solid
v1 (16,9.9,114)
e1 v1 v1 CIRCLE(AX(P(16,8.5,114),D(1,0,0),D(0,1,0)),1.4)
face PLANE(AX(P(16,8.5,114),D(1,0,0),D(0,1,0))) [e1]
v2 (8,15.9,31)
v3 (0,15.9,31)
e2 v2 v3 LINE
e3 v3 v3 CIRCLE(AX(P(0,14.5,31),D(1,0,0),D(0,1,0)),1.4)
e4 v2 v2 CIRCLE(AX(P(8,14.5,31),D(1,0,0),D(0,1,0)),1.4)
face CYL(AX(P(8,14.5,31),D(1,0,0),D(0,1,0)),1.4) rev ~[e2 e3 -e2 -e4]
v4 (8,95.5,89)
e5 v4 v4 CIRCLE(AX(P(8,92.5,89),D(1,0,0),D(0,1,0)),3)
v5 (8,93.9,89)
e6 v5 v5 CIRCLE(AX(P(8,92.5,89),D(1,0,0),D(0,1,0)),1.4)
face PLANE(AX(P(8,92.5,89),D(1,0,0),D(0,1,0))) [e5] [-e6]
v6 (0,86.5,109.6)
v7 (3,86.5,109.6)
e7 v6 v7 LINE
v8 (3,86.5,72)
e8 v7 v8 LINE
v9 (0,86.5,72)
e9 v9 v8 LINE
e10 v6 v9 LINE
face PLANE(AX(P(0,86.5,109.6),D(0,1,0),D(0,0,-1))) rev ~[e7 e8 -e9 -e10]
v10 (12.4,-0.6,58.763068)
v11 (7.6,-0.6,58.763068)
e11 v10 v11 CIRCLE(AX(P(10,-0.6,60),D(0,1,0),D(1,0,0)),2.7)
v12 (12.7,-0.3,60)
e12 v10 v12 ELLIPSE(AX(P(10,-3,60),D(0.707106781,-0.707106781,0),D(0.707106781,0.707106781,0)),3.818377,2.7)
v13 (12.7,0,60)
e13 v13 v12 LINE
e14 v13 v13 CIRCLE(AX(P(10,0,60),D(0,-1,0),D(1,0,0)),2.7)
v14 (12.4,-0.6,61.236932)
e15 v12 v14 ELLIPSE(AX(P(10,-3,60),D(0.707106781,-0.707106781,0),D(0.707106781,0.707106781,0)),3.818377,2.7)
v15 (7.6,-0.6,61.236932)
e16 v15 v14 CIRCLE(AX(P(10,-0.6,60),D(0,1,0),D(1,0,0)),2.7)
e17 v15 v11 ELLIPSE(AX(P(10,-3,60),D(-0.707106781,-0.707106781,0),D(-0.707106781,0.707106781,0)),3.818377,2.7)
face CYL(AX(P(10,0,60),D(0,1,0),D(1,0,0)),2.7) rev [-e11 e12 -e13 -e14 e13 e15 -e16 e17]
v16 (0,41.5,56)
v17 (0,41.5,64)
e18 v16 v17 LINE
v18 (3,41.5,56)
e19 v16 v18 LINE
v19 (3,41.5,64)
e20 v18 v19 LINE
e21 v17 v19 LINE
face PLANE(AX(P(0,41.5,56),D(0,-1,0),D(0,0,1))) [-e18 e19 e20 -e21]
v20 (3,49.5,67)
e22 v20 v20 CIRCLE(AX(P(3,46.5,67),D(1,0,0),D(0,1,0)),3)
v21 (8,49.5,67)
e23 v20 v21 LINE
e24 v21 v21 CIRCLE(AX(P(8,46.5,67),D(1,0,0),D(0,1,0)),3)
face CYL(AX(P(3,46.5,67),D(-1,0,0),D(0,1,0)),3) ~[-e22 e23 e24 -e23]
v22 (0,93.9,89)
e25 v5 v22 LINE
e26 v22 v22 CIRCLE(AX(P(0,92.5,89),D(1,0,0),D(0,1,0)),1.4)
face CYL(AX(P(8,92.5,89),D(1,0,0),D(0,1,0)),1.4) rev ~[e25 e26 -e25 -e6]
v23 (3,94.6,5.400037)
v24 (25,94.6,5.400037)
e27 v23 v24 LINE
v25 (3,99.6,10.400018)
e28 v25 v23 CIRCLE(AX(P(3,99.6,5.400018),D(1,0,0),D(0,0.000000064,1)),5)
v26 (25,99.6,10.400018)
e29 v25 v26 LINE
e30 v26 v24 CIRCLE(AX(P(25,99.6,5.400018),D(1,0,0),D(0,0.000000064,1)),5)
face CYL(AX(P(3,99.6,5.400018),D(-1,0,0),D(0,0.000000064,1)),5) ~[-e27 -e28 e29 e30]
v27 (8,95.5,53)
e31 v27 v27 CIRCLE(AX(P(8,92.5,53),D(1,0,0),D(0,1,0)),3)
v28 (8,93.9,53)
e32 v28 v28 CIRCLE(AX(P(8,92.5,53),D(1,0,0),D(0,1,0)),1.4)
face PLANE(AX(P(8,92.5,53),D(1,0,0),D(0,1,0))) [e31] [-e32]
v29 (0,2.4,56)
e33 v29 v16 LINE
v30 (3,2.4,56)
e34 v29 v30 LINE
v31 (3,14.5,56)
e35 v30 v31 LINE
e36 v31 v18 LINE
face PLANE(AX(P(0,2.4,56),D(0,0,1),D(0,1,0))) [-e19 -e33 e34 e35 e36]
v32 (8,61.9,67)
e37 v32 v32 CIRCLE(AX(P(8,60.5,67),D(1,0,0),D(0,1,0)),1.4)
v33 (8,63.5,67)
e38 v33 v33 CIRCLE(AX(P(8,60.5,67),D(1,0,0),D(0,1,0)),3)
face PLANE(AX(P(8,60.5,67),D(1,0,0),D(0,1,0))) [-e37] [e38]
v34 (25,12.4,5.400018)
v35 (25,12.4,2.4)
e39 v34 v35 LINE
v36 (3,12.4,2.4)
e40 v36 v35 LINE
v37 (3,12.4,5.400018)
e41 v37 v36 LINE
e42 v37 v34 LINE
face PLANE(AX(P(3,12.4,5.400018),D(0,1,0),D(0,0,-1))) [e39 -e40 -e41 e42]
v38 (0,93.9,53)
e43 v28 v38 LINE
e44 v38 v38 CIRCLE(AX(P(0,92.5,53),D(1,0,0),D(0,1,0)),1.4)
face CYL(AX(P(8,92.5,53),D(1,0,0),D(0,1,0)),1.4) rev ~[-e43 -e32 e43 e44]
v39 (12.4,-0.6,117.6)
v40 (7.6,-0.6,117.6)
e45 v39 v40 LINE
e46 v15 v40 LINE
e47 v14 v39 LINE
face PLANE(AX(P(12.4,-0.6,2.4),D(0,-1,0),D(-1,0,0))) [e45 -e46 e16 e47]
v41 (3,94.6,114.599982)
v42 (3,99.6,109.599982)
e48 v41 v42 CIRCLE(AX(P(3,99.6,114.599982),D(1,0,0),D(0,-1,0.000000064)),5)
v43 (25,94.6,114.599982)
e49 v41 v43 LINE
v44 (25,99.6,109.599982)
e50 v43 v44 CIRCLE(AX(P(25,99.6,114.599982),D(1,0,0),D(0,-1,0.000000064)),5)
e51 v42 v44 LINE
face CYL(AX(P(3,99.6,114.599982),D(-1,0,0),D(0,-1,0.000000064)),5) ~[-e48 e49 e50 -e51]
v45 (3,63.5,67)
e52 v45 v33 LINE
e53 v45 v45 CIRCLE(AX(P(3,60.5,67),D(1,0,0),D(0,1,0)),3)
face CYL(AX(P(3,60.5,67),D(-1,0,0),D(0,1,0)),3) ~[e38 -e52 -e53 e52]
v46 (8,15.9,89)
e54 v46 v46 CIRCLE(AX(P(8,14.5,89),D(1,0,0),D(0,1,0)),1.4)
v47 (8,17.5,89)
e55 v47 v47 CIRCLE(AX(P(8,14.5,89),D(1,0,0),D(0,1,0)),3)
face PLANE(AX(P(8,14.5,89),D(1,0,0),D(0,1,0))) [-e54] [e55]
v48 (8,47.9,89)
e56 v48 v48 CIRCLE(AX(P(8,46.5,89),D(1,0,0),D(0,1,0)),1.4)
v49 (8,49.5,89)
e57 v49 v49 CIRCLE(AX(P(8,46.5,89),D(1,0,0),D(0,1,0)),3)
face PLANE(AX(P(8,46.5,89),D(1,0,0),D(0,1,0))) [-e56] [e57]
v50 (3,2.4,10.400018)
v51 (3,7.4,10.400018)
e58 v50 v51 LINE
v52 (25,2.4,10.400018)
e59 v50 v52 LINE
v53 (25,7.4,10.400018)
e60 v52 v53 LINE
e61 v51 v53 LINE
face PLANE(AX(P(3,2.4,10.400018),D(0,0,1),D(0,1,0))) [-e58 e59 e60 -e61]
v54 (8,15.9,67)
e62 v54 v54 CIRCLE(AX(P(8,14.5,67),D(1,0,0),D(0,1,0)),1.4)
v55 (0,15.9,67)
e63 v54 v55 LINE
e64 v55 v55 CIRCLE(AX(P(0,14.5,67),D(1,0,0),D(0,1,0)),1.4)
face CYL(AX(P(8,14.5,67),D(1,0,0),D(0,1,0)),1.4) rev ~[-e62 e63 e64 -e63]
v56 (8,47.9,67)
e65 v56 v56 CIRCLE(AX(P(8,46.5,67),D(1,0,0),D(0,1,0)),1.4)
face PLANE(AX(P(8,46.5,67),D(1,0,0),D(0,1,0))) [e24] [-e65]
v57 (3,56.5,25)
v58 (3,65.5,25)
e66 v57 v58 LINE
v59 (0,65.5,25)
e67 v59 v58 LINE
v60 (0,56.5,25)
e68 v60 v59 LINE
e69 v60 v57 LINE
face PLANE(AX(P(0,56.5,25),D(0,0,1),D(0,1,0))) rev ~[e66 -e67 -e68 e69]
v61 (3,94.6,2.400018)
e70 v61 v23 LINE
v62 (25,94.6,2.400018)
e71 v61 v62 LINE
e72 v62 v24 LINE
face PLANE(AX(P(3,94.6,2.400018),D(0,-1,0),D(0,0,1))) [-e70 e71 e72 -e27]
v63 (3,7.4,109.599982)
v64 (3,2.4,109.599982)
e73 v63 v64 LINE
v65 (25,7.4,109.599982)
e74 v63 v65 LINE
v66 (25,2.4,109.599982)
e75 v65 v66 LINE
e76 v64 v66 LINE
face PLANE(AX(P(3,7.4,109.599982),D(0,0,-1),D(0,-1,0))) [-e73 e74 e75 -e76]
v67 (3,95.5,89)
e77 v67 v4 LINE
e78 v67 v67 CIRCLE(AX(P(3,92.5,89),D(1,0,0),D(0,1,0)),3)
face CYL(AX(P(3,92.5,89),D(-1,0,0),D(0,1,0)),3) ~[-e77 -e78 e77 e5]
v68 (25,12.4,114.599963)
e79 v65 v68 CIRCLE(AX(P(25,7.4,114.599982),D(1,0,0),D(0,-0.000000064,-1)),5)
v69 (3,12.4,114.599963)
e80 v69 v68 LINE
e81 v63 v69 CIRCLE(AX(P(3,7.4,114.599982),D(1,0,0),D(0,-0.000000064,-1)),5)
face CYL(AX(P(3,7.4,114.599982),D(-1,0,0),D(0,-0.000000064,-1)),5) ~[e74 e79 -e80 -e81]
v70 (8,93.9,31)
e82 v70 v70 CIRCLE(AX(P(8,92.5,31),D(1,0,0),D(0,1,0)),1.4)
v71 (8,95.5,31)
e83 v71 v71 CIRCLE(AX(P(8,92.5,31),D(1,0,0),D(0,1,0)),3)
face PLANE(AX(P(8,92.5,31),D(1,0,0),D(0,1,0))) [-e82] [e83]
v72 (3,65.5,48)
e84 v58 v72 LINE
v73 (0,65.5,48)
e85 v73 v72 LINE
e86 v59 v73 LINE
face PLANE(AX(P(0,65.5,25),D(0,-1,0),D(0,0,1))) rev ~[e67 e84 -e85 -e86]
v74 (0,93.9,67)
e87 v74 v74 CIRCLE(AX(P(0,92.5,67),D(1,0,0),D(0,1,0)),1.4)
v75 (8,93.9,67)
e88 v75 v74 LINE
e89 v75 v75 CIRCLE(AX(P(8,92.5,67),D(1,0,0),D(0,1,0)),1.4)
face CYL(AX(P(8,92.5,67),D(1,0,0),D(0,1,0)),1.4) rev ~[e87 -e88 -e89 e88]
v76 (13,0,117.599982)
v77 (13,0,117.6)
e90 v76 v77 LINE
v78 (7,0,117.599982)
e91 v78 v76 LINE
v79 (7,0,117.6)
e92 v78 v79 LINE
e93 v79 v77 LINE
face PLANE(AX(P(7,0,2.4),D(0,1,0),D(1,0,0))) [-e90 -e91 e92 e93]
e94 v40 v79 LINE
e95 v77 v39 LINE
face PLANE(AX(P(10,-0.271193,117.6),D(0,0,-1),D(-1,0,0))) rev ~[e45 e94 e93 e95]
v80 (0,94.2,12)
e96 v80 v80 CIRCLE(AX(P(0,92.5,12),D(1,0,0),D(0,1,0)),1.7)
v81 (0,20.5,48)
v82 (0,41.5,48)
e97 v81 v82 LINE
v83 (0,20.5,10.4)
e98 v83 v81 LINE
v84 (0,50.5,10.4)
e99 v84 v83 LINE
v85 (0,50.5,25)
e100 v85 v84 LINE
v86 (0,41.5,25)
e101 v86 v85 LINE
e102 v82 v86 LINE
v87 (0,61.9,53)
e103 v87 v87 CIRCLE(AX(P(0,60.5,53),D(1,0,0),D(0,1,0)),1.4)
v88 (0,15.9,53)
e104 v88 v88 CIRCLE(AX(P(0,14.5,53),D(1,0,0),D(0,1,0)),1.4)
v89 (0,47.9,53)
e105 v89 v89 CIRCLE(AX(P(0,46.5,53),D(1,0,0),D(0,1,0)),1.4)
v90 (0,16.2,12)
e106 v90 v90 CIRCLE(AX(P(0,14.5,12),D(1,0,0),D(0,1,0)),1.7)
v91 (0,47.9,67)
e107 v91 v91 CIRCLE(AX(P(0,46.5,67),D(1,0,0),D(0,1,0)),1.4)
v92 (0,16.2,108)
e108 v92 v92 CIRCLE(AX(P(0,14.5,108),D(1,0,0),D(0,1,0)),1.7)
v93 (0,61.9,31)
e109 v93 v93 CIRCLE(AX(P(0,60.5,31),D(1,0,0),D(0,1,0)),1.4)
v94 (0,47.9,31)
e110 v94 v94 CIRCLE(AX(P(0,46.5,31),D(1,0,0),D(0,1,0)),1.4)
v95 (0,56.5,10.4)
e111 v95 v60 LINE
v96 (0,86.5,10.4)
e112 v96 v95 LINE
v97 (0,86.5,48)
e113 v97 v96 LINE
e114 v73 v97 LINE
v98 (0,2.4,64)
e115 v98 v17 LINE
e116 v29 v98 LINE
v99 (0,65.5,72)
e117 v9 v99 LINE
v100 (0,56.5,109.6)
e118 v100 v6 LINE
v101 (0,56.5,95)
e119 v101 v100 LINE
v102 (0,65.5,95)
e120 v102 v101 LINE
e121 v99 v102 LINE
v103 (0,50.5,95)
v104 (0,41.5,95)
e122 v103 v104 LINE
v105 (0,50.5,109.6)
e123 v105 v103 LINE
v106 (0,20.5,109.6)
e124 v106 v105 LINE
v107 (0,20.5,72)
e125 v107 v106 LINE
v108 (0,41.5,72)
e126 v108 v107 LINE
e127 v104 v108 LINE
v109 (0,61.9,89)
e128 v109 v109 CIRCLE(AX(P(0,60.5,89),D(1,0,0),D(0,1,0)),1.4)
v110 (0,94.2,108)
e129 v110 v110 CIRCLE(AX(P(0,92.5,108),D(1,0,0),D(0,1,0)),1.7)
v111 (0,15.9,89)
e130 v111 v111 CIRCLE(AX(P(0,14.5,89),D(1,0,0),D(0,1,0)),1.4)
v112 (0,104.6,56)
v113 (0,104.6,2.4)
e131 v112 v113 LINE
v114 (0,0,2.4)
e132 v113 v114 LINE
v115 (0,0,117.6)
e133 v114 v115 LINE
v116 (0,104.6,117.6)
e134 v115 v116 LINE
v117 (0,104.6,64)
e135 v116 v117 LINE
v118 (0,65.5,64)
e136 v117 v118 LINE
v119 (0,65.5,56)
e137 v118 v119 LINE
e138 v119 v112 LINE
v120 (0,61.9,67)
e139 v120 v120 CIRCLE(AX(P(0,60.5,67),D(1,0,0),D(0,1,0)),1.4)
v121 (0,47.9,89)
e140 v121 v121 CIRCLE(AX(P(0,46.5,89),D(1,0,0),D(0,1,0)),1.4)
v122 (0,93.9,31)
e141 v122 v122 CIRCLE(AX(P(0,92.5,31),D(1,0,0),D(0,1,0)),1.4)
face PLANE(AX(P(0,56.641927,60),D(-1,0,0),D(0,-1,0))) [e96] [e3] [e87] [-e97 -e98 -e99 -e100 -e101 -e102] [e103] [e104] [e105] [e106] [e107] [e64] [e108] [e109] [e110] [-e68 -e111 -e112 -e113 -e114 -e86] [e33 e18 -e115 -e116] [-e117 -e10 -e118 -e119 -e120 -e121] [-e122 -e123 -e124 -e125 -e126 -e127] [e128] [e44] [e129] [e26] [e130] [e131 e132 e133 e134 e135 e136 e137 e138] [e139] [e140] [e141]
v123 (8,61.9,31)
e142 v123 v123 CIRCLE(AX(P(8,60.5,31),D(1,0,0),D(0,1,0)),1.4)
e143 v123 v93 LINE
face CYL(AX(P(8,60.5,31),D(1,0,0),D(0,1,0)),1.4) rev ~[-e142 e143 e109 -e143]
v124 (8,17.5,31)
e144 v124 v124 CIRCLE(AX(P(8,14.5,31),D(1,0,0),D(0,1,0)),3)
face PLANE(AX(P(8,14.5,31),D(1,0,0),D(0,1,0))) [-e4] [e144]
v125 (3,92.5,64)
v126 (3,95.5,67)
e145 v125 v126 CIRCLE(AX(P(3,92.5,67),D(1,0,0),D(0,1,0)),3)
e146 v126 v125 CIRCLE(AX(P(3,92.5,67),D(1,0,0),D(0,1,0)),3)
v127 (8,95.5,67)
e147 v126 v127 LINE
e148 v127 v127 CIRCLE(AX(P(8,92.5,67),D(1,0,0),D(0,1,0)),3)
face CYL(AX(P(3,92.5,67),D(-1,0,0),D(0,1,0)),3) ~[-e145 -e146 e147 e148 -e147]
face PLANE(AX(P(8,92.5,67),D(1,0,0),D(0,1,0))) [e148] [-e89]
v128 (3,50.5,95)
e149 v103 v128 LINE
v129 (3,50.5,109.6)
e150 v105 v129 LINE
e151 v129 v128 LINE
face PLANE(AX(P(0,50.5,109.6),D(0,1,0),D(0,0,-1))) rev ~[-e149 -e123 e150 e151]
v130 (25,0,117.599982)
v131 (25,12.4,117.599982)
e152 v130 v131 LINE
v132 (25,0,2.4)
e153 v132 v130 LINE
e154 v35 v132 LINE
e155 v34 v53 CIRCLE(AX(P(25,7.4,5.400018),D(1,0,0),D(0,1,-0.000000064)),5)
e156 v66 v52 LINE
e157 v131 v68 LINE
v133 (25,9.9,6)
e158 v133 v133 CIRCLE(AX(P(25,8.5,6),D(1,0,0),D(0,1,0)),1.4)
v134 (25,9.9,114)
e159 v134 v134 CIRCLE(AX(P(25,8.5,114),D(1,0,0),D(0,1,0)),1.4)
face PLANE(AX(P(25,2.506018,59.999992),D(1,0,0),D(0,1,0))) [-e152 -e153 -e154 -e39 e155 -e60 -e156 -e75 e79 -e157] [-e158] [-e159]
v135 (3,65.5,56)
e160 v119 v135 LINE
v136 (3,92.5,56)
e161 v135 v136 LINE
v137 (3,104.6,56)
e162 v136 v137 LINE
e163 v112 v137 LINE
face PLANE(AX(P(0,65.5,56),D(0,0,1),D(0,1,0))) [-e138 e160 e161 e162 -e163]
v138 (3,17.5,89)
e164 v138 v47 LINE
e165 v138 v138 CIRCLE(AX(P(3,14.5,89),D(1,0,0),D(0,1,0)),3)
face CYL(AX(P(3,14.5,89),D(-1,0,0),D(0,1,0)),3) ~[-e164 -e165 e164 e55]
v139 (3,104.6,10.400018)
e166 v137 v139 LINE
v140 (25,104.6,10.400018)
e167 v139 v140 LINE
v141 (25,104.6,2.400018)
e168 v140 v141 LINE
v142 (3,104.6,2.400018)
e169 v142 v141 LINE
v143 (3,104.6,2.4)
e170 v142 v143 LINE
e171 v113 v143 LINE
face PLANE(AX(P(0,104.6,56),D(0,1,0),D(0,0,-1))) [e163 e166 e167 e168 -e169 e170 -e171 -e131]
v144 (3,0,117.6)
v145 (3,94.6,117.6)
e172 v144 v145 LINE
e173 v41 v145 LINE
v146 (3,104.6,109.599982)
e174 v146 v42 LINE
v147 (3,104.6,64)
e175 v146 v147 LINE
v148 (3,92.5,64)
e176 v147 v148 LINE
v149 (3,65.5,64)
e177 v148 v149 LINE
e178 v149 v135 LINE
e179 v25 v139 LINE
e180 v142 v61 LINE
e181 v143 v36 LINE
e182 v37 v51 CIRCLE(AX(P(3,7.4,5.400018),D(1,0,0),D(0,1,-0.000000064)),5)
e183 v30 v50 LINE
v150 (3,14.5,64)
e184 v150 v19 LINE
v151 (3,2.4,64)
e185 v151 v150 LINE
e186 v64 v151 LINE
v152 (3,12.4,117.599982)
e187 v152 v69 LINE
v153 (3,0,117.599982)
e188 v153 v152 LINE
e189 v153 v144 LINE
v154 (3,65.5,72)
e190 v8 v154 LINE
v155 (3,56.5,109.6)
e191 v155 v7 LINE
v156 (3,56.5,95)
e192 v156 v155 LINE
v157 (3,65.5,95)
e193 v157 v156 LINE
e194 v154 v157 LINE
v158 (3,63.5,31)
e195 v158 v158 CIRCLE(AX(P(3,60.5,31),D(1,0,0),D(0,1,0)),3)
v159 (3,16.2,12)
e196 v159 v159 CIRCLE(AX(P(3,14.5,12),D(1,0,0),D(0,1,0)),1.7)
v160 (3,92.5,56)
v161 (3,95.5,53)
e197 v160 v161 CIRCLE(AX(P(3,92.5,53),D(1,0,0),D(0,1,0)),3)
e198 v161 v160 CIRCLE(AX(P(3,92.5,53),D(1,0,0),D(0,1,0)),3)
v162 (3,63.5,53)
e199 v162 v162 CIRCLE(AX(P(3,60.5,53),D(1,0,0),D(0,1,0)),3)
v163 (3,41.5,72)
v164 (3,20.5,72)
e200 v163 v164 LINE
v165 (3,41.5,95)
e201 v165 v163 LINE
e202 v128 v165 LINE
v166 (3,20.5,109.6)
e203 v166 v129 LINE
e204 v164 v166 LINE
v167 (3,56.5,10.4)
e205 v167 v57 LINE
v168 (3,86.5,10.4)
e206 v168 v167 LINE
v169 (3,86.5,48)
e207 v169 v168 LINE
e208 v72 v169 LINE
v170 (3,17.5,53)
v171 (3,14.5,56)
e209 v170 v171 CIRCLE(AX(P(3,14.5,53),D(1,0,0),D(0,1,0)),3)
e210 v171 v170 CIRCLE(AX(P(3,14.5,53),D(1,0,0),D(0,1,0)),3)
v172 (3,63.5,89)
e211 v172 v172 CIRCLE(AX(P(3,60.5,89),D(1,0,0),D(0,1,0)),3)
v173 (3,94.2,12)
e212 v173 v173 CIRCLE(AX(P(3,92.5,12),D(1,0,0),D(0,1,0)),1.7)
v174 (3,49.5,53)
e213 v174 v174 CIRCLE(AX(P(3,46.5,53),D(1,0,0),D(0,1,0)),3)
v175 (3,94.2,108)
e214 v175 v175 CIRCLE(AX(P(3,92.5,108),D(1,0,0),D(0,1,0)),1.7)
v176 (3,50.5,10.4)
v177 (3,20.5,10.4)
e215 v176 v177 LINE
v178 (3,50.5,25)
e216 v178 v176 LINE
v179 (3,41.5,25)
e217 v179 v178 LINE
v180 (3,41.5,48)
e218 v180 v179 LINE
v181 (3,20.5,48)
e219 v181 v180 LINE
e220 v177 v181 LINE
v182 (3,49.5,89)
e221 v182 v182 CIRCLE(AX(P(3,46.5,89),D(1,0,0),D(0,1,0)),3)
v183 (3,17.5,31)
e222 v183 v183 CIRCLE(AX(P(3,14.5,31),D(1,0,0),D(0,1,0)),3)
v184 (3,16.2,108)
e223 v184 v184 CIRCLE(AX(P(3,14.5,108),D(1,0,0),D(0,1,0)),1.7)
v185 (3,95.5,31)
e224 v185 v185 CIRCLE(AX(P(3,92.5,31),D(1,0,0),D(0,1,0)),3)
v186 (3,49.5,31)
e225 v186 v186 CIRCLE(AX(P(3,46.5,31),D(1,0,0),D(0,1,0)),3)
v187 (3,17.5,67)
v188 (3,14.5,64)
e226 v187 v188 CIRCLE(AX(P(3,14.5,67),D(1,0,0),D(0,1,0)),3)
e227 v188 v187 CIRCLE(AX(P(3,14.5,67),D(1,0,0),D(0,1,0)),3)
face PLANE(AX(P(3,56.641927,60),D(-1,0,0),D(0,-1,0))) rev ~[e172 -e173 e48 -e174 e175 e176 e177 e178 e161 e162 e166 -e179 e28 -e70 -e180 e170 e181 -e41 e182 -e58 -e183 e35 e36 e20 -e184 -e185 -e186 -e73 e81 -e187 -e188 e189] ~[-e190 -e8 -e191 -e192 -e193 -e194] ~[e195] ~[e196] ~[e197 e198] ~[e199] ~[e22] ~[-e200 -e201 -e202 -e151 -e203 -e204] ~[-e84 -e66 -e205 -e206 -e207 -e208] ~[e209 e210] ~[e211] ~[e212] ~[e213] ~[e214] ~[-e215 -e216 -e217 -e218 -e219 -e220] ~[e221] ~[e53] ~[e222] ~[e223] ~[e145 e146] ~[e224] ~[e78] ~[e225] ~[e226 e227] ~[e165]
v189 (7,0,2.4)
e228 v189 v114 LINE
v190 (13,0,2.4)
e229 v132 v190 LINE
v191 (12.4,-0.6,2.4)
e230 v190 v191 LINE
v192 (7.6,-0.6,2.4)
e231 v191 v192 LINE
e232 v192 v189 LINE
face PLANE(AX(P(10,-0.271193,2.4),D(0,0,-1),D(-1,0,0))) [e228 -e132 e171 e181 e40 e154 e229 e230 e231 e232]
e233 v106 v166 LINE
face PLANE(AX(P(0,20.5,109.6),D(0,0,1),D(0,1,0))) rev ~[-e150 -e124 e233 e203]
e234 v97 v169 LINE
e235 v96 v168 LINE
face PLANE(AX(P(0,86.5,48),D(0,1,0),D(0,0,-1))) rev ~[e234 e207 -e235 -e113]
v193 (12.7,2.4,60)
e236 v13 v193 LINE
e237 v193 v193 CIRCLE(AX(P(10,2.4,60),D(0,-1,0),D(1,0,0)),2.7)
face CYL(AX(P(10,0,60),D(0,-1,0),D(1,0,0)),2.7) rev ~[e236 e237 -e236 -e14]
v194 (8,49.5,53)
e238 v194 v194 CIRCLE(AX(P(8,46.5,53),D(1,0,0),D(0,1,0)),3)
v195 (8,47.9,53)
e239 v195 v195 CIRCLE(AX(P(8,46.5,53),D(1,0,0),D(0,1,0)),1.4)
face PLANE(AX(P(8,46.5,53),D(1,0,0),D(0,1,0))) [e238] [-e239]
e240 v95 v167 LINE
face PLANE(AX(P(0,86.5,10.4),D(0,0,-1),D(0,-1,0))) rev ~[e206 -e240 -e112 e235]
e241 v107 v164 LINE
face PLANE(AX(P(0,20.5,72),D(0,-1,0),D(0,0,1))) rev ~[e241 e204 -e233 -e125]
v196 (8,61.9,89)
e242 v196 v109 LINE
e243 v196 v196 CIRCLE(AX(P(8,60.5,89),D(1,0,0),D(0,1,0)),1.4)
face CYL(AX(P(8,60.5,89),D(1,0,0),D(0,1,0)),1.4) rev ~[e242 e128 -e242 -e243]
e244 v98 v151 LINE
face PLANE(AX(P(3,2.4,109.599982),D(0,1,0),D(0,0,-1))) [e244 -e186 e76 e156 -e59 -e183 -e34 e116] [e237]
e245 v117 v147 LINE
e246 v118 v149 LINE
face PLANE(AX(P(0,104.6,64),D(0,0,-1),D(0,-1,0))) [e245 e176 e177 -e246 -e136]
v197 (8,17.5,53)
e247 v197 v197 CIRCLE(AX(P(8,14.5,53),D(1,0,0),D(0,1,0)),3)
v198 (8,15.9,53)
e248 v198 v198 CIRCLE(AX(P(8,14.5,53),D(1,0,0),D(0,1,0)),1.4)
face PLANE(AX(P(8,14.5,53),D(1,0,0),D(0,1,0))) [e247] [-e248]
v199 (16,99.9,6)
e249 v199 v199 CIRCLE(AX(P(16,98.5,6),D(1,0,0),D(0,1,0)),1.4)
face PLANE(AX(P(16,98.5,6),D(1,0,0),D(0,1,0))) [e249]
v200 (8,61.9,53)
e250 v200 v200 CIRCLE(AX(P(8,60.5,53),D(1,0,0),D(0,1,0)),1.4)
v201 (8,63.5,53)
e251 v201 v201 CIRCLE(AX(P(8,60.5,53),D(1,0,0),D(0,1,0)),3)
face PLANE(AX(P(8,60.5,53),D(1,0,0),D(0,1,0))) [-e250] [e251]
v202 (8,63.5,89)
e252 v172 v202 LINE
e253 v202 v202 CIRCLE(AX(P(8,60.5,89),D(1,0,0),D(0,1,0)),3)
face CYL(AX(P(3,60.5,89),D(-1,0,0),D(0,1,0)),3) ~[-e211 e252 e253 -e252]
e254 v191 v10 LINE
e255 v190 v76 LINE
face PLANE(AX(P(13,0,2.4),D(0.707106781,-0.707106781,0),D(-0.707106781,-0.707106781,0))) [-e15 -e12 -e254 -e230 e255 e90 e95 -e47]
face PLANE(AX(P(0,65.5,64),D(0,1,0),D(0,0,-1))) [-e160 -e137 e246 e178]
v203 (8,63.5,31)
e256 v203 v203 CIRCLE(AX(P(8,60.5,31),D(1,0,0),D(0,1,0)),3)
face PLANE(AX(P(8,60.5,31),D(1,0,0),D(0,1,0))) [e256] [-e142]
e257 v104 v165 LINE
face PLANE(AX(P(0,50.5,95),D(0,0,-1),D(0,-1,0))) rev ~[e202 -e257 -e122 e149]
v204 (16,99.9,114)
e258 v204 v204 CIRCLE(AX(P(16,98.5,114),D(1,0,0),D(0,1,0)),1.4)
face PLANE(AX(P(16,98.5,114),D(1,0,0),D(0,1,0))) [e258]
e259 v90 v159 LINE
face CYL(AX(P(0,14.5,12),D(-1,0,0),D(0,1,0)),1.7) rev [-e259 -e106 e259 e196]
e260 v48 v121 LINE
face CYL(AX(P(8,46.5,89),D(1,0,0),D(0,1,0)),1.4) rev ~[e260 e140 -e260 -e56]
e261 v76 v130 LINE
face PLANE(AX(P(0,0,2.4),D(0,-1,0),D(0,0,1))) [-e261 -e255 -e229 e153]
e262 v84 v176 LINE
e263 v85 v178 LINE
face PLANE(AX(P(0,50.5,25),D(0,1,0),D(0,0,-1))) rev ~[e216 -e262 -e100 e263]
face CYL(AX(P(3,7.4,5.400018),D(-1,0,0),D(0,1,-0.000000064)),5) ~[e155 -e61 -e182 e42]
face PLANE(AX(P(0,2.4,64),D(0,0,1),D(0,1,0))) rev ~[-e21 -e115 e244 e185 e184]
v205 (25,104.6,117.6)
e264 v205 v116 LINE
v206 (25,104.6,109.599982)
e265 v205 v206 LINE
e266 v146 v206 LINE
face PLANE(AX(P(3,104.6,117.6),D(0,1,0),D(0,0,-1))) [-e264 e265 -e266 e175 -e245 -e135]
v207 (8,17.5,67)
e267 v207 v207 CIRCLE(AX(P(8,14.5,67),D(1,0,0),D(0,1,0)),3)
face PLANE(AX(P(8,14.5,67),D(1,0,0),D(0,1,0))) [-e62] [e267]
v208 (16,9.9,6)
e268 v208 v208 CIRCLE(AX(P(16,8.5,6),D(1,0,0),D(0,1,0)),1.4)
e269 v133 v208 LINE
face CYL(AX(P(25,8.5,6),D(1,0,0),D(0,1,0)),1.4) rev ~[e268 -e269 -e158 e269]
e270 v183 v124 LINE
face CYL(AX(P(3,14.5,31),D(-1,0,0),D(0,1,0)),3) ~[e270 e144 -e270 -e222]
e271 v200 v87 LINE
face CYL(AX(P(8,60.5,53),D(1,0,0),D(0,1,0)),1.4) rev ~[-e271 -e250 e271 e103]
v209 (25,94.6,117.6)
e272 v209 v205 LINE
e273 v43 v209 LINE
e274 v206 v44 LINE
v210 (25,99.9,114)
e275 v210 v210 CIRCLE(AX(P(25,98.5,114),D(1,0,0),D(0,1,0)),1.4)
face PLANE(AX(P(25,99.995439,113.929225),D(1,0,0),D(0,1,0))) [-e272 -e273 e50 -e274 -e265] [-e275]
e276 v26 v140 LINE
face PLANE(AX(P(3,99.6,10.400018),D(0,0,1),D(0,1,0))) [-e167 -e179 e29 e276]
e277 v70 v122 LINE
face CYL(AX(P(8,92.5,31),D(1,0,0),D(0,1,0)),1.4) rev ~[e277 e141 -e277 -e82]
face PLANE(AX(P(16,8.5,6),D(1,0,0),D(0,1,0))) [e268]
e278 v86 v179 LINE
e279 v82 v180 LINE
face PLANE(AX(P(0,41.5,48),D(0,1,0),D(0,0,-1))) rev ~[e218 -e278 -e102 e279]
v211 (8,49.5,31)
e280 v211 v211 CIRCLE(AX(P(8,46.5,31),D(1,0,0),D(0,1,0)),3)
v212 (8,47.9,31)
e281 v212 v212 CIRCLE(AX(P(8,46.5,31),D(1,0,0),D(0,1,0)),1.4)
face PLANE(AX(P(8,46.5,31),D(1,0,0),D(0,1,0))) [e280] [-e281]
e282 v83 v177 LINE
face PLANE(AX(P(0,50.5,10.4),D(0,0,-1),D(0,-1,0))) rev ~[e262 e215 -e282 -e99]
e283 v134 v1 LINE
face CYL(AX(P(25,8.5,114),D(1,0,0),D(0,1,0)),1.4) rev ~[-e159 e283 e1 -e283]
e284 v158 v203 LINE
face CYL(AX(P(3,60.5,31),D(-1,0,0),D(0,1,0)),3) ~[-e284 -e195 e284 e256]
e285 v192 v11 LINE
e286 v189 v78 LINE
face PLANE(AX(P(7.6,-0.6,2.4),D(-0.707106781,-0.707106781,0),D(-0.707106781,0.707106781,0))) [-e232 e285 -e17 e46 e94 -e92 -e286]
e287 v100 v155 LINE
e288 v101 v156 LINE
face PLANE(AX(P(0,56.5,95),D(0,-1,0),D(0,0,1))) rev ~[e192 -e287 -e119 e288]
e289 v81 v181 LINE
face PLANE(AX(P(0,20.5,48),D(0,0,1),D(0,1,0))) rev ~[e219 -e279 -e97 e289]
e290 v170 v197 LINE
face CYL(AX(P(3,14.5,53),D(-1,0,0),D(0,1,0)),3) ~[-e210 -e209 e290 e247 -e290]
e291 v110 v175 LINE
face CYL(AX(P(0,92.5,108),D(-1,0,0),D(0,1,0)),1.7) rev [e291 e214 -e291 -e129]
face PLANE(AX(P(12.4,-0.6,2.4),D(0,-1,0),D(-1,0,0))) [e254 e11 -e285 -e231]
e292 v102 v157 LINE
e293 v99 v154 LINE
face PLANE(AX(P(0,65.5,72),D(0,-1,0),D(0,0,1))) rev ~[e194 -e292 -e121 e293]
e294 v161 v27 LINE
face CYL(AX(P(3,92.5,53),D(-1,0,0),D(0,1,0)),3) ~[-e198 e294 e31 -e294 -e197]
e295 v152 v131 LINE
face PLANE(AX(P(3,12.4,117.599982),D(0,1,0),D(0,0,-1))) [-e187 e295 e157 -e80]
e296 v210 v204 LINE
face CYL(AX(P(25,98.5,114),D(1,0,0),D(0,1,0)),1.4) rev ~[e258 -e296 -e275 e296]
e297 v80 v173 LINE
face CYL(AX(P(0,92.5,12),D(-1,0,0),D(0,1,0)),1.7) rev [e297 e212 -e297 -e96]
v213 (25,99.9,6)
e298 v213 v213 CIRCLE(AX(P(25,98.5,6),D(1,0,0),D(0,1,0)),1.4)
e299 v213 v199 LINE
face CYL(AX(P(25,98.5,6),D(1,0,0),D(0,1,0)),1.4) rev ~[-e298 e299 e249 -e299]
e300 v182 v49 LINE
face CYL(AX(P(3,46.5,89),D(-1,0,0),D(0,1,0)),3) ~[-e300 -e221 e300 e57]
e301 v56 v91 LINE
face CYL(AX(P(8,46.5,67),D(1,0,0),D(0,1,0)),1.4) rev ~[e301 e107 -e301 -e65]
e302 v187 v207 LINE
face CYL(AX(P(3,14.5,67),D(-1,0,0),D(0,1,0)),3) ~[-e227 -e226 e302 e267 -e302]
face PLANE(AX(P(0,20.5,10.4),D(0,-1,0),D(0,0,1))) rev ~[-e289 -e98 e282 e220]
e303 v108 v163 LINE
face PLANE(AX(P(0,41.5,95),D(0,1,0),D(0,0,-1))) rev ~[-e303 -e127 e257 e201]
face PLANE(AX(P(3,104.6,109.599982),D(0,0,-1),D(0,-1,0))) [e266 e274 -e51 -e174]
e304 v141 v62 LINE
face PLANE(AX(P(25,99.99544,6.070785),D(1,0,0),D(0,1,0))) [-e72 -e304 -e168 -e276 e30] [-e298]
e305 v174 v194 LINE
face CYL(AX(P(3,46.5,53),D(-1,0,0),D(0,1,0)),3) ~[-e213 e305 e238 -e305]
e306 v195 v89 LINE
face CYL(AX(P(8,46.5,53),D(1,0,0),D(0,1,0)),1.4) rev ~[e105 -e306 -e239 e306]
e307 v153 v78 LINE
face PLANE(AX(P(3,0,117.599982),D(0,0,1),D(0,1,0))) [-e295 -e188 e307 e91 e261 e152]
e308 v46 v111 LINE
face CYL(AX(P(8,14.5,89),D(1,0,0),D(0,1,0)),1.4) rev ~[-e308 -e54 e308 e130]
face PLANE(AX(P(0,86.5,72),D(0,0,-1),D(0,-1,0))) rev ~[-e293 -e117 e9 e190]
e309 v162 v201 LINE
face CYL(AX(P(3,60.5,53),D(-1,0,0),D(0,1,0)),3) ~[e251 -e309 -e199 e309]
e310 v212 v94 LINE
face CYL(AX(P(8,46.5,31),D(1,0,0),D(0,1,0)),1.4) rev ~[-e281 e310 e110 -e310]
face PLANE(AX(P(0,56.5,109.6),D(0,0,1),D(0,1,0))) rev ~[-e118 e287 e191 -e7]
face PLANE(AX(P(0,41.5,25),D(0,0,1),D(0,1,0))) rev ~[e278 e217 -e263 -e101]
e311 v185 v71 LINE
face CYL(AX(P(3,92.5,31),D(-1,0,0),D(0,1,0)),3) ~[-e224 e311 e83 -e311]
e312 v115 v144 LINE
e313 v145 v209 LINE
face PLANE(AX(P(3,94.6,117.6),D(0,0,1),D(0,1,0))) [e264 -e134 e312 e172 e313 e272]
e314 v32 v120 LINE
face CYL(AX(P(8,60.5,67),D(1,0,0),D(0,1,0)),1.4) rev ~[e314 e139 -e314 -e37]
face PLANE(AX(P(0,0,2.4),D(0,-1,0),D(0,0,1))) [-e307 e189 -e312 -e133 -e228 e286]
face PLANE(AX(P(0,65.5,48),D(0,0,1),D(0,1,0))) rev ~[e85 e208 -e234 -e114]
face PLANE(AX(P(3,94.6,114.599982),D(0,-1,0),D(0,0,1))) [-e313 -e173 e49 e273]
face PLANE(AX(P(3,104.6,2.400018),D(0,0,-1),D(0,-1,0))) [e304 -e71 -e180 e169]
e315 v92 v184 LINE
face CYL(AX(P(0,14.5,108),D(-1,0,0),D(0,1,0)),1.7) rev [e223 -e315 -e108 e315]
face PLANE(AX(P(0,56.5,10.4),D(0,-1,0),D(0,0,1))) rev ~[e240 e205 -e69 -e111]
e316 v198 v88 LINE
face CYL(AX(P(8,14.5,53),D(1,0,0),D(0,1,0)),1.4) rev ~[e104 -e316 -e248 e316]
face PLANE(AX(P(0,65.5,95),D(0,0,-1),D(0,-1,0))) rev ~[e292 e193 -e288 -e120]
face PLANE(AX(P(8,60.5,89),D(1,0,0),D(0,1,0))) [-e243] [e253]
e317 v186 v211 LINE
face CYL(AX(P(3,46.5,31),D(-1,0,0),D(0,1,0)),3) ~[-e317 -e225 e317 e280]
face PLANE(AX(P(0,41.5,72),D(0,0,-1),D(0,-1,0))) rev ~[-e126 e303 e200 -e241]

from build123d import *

# Parameters (mm, degrees)
SKETCH017_R          = 1.7
SKETCH017_W          = 39.1
SKETCH017_H          = 8
PAD006_DEPTH         = 3
SKETCH018_R          = 3
PAD007_DEPTH         = 5
SKETCH020_R          = 1.4
POCKET011_DEPTH      = 8.001
PAD008_DEPTH         = 22
SKETCH021_R          = 1.4
POCKET012_DEPTH      = 9
PAD009_DEPTH         = 115.2
SKETCH023_R          = 2.7
POCKET013_DEPTH      = 0.601
POCKET013_DEPTH_BACK = 104.601


with BuildPart() as part:
    # Sketch017 → Pad006 (new body)
    with BuildSketch(Plane.YZ):
        Polygon((0, 117.6), (104.6, 117.6), (104.6, 64), (65.5, 64), (65.5, 56), (104.6, 56), (104.6, 2.4), (0, 2.4), align=None)
        with Locations((14.5, 108)):
            Circle(SKETCH017_R, mode=Mode.SUBTRACT)
        with Locations((92.5, 108)):
            Circle(SKETCH017_R, mode=Mode.SUBTRACT)
        with Locations((92.5, 12)):
            Circle(SKETCH017_R, mode=Mode.SUBTRACT)
        with Locations((14.5, 12)):
            Circle(SKETCH017_R, mode=Mode.SUBTRACT)
        with Locations((21.95, 60)):
            Rectangle(SKETCH017_W, SKETCH017_H, mode=Mode.SUBTRACT)
        Polygon((86.5, 109.6), (86.5, 72), (65.5, 72), (65.5, 95), (56.5, 95), (56.5, 109.6), align=None, mode=Mode.SUBTRACT)
        Polygon((20.5, 72), (20.5, 109.6), (50.5, 109.6), (50.5, 95), (41.5, 95), (41.5, 72), align=None, mode=Mode.SUBTRACT)
        Polygon((86.5, 48), (86.5, 10.4), (56.5, 10.4), (56.5, 25), (65.5, 25), (65.5, 48), align=None, mode=Mode.SUBTRACT)
        Polygon((20.5, 10.4), (20.5, 48), (41.5, 48), (41.5, 25), (50.5, 25), (50.5, 10.4), align=None, mode=Mode.SUBTRACT)
    extrude(amount=PAD006_DEPTH)

    # Sketch018 → Pad007 (join)
    with BuildSketch(Plane.YZ.offset(3)):
        with Locations((14.5, 89)):
            Circle(SKETCH018_R)
        with Locations((46.5, 89)):
            Circle(SKETCH018_R)
        with Locations((60.5, 89)):
            Circle(SKETCH018_R)
        with Locations((92.5, 89)):
            Circle(SKETCH018_R)
        with Locations((92.5, 67)):
            Circle(SKETCH018_R)
        with Locations((60.5, 67)):
            Circle(SKETCH018_R)
        with Locations((46.5, 67)):
            Circle(SKETCH018_R)
        with Locations((14.5, 67)):
            Circle(SKETCH018_R)
        with Locations((14.5, 53)):
            Circle(SKETCH018_R)
        with Locations((46.5, 53)):
            Circle(SKETCH018_R)
        with Locations((60.5, 53)):
            Circle(SKETCH018_R)
        with Locations((92.5, 53)):
            Circle(SKETCH018_R)
        with Locations((92.5, 31)):
            Circle(SKETCH018_R)
        with Locations((60.5, 31)):
            Circle(SKETCH018_R)
        with Locations((46.5, 31)):
            Circle(SKETCH018_R)
        with Locations((14.5, 31)):
            Circle(SKETCH018_R)
    extrude(amount=PAD007_DEPTH)

    # Sketch020 → Pocket011 (cut, through all)
    with BuildSketch(Plane.YZ.offset(8)):
        with Locations((14.5, 89)):
            Circle(SKETCH020_R)
        with Locations((46.5, 89)):
            Circle(SKETCH020_R)
        with Locations((60.5, 89)):
            Circle(SKETCH020_R)
        with Locations((92.5, 89)):
            Circle(SKETCH020_R)
        with Locations((92.5, 67)):
            Circle(SKETCH020_R)
        with Locations((60.5, 67)):
            Circle(SKETCH020_R)
        with Locations((46.5, 67)):
            Circle(SKETCH020_R)
        with Locations((14.5, 67)):
            Circle(SKETCH020_R)
        with Locations((14.5, 53)):
            Circle(SKETCH020_R)
        with Locations((46.5, 53)):
            Circle(SKETCH020_R)
        with Locations((60.5, 53)):
            Circle(SKETCH020_R)
        with Locations((92.5, 53)):
            Circle(SKETCH020_R)
        with Locations((92.5, 31)):
            Circle(SKETCH020_R)
        with Locations((60.5, 31)):
            Circle(SKETCH020_R)
        with Locations((46.5, 31)):
            Circle(SKETCH020_R)
        with Locations((14.5, 31)):
            Circle(SKETCH020_R)
    extrude(amount=-POCKET011_DEPTH, mode=Mode.SUBTRACT)

    # Sketch019 → Pad008 (join)
    with BuildSketch(Plane.YZ.offset(3)):
        with BuildLine():
            ThreePointArc((94.6, 114.599982), (96.064466, 111.064448), (99.6, 109.599982))
            Line((104.6, 109.599982), (99.6, 109.599982))
            Line((104.6, 117.6), (104.6, 109.599982))
            Line((94.6, 117.6), (104.6, 117.6))
            Line((94.6, 114.599982), (94.6, 117.6))
        make_face()
        with BuildLine():
            ThreePointArc((99.6, 10.400018), (96.064473, 8.935559), (94.6, 5.400037))
            Line((94.6, 2.400018), (94.6, 5.400037))
            Line((104.6, 2.400018), (94.6, 2.400018))
            Line((104.6, 10.400018), (104.6, 2.400018))
            Line((99.6, 10.400018), (104.6, 10.400018))
        make_face()
        with BuildLine():
            ThreePointArc((7.4, 109.599982), (10.935527, 111.064441), (12.4, 114.599963))
            Line((12.4, 117.599982), (12.4, 114.599963))
            Line((0, 117.599982), (12.4, 117.599982))
            Line((0, 2.4), (0, 117.599982))
            Line((12.4, 2.4), (0, 2.4))
            Line((12.4, 5.400018), (12.4, 2.4))
            ThreePointArc((12.4, 5.400018), (10.935534, 8.935552), (7.4, 10.400018))
            Line((2.4, 10.400018), (7.4, 10.400018))
            Line((2.4, 109.599982), (2.4, 10.400018))
            Line((7.4, 109.599982), (2.4, 109.599982))
        make_face()
    extrude(amount=PAD008_DEPTH)

    # Sketch021 → Pocket012 (cut)
    with BuildSketch(Plane.YZ.offset(25)):
        with Locations((8.5, 114)):
            Circle(SKETCH021_R)
        with Locations((98.5, 114)):
            Circle(SKETCH021_R)
        with Locations((98.5, 6)):
            Circle(SKETCH021_R)
        with Locations((8.5, 6)):
            Circle(SKETCH021_R)
    extrude(amount=-POCKET012_DEPTH, mode=Mode.SUBTRACT)

    # Sketch022 → Pad009 (join)
    with BuildSketch(Plane.XY.offset(2.4)):
        Polygon((7, 0), (13, 0), (12.4, -0.6), (7.6, -0.6), align=None)
    extrude(amount=PAD009_DEPTH)

    # Sketch023 → Pocket013 (cut, two sides)
    with BuildSketch(Plane.XZ) as pocket013_sk:
        with Locations((10, 60)):
            Circle(SKETCH023_R)
    extrude(amount=POCKET013_DEPTH, mode=Mode.SUBTRACT)
    extrude(pocket013_sk.sketch, amount=-POCKET013_DEPTH_BACK, mode=Mode.SUBTRACT)


solid = part.part
